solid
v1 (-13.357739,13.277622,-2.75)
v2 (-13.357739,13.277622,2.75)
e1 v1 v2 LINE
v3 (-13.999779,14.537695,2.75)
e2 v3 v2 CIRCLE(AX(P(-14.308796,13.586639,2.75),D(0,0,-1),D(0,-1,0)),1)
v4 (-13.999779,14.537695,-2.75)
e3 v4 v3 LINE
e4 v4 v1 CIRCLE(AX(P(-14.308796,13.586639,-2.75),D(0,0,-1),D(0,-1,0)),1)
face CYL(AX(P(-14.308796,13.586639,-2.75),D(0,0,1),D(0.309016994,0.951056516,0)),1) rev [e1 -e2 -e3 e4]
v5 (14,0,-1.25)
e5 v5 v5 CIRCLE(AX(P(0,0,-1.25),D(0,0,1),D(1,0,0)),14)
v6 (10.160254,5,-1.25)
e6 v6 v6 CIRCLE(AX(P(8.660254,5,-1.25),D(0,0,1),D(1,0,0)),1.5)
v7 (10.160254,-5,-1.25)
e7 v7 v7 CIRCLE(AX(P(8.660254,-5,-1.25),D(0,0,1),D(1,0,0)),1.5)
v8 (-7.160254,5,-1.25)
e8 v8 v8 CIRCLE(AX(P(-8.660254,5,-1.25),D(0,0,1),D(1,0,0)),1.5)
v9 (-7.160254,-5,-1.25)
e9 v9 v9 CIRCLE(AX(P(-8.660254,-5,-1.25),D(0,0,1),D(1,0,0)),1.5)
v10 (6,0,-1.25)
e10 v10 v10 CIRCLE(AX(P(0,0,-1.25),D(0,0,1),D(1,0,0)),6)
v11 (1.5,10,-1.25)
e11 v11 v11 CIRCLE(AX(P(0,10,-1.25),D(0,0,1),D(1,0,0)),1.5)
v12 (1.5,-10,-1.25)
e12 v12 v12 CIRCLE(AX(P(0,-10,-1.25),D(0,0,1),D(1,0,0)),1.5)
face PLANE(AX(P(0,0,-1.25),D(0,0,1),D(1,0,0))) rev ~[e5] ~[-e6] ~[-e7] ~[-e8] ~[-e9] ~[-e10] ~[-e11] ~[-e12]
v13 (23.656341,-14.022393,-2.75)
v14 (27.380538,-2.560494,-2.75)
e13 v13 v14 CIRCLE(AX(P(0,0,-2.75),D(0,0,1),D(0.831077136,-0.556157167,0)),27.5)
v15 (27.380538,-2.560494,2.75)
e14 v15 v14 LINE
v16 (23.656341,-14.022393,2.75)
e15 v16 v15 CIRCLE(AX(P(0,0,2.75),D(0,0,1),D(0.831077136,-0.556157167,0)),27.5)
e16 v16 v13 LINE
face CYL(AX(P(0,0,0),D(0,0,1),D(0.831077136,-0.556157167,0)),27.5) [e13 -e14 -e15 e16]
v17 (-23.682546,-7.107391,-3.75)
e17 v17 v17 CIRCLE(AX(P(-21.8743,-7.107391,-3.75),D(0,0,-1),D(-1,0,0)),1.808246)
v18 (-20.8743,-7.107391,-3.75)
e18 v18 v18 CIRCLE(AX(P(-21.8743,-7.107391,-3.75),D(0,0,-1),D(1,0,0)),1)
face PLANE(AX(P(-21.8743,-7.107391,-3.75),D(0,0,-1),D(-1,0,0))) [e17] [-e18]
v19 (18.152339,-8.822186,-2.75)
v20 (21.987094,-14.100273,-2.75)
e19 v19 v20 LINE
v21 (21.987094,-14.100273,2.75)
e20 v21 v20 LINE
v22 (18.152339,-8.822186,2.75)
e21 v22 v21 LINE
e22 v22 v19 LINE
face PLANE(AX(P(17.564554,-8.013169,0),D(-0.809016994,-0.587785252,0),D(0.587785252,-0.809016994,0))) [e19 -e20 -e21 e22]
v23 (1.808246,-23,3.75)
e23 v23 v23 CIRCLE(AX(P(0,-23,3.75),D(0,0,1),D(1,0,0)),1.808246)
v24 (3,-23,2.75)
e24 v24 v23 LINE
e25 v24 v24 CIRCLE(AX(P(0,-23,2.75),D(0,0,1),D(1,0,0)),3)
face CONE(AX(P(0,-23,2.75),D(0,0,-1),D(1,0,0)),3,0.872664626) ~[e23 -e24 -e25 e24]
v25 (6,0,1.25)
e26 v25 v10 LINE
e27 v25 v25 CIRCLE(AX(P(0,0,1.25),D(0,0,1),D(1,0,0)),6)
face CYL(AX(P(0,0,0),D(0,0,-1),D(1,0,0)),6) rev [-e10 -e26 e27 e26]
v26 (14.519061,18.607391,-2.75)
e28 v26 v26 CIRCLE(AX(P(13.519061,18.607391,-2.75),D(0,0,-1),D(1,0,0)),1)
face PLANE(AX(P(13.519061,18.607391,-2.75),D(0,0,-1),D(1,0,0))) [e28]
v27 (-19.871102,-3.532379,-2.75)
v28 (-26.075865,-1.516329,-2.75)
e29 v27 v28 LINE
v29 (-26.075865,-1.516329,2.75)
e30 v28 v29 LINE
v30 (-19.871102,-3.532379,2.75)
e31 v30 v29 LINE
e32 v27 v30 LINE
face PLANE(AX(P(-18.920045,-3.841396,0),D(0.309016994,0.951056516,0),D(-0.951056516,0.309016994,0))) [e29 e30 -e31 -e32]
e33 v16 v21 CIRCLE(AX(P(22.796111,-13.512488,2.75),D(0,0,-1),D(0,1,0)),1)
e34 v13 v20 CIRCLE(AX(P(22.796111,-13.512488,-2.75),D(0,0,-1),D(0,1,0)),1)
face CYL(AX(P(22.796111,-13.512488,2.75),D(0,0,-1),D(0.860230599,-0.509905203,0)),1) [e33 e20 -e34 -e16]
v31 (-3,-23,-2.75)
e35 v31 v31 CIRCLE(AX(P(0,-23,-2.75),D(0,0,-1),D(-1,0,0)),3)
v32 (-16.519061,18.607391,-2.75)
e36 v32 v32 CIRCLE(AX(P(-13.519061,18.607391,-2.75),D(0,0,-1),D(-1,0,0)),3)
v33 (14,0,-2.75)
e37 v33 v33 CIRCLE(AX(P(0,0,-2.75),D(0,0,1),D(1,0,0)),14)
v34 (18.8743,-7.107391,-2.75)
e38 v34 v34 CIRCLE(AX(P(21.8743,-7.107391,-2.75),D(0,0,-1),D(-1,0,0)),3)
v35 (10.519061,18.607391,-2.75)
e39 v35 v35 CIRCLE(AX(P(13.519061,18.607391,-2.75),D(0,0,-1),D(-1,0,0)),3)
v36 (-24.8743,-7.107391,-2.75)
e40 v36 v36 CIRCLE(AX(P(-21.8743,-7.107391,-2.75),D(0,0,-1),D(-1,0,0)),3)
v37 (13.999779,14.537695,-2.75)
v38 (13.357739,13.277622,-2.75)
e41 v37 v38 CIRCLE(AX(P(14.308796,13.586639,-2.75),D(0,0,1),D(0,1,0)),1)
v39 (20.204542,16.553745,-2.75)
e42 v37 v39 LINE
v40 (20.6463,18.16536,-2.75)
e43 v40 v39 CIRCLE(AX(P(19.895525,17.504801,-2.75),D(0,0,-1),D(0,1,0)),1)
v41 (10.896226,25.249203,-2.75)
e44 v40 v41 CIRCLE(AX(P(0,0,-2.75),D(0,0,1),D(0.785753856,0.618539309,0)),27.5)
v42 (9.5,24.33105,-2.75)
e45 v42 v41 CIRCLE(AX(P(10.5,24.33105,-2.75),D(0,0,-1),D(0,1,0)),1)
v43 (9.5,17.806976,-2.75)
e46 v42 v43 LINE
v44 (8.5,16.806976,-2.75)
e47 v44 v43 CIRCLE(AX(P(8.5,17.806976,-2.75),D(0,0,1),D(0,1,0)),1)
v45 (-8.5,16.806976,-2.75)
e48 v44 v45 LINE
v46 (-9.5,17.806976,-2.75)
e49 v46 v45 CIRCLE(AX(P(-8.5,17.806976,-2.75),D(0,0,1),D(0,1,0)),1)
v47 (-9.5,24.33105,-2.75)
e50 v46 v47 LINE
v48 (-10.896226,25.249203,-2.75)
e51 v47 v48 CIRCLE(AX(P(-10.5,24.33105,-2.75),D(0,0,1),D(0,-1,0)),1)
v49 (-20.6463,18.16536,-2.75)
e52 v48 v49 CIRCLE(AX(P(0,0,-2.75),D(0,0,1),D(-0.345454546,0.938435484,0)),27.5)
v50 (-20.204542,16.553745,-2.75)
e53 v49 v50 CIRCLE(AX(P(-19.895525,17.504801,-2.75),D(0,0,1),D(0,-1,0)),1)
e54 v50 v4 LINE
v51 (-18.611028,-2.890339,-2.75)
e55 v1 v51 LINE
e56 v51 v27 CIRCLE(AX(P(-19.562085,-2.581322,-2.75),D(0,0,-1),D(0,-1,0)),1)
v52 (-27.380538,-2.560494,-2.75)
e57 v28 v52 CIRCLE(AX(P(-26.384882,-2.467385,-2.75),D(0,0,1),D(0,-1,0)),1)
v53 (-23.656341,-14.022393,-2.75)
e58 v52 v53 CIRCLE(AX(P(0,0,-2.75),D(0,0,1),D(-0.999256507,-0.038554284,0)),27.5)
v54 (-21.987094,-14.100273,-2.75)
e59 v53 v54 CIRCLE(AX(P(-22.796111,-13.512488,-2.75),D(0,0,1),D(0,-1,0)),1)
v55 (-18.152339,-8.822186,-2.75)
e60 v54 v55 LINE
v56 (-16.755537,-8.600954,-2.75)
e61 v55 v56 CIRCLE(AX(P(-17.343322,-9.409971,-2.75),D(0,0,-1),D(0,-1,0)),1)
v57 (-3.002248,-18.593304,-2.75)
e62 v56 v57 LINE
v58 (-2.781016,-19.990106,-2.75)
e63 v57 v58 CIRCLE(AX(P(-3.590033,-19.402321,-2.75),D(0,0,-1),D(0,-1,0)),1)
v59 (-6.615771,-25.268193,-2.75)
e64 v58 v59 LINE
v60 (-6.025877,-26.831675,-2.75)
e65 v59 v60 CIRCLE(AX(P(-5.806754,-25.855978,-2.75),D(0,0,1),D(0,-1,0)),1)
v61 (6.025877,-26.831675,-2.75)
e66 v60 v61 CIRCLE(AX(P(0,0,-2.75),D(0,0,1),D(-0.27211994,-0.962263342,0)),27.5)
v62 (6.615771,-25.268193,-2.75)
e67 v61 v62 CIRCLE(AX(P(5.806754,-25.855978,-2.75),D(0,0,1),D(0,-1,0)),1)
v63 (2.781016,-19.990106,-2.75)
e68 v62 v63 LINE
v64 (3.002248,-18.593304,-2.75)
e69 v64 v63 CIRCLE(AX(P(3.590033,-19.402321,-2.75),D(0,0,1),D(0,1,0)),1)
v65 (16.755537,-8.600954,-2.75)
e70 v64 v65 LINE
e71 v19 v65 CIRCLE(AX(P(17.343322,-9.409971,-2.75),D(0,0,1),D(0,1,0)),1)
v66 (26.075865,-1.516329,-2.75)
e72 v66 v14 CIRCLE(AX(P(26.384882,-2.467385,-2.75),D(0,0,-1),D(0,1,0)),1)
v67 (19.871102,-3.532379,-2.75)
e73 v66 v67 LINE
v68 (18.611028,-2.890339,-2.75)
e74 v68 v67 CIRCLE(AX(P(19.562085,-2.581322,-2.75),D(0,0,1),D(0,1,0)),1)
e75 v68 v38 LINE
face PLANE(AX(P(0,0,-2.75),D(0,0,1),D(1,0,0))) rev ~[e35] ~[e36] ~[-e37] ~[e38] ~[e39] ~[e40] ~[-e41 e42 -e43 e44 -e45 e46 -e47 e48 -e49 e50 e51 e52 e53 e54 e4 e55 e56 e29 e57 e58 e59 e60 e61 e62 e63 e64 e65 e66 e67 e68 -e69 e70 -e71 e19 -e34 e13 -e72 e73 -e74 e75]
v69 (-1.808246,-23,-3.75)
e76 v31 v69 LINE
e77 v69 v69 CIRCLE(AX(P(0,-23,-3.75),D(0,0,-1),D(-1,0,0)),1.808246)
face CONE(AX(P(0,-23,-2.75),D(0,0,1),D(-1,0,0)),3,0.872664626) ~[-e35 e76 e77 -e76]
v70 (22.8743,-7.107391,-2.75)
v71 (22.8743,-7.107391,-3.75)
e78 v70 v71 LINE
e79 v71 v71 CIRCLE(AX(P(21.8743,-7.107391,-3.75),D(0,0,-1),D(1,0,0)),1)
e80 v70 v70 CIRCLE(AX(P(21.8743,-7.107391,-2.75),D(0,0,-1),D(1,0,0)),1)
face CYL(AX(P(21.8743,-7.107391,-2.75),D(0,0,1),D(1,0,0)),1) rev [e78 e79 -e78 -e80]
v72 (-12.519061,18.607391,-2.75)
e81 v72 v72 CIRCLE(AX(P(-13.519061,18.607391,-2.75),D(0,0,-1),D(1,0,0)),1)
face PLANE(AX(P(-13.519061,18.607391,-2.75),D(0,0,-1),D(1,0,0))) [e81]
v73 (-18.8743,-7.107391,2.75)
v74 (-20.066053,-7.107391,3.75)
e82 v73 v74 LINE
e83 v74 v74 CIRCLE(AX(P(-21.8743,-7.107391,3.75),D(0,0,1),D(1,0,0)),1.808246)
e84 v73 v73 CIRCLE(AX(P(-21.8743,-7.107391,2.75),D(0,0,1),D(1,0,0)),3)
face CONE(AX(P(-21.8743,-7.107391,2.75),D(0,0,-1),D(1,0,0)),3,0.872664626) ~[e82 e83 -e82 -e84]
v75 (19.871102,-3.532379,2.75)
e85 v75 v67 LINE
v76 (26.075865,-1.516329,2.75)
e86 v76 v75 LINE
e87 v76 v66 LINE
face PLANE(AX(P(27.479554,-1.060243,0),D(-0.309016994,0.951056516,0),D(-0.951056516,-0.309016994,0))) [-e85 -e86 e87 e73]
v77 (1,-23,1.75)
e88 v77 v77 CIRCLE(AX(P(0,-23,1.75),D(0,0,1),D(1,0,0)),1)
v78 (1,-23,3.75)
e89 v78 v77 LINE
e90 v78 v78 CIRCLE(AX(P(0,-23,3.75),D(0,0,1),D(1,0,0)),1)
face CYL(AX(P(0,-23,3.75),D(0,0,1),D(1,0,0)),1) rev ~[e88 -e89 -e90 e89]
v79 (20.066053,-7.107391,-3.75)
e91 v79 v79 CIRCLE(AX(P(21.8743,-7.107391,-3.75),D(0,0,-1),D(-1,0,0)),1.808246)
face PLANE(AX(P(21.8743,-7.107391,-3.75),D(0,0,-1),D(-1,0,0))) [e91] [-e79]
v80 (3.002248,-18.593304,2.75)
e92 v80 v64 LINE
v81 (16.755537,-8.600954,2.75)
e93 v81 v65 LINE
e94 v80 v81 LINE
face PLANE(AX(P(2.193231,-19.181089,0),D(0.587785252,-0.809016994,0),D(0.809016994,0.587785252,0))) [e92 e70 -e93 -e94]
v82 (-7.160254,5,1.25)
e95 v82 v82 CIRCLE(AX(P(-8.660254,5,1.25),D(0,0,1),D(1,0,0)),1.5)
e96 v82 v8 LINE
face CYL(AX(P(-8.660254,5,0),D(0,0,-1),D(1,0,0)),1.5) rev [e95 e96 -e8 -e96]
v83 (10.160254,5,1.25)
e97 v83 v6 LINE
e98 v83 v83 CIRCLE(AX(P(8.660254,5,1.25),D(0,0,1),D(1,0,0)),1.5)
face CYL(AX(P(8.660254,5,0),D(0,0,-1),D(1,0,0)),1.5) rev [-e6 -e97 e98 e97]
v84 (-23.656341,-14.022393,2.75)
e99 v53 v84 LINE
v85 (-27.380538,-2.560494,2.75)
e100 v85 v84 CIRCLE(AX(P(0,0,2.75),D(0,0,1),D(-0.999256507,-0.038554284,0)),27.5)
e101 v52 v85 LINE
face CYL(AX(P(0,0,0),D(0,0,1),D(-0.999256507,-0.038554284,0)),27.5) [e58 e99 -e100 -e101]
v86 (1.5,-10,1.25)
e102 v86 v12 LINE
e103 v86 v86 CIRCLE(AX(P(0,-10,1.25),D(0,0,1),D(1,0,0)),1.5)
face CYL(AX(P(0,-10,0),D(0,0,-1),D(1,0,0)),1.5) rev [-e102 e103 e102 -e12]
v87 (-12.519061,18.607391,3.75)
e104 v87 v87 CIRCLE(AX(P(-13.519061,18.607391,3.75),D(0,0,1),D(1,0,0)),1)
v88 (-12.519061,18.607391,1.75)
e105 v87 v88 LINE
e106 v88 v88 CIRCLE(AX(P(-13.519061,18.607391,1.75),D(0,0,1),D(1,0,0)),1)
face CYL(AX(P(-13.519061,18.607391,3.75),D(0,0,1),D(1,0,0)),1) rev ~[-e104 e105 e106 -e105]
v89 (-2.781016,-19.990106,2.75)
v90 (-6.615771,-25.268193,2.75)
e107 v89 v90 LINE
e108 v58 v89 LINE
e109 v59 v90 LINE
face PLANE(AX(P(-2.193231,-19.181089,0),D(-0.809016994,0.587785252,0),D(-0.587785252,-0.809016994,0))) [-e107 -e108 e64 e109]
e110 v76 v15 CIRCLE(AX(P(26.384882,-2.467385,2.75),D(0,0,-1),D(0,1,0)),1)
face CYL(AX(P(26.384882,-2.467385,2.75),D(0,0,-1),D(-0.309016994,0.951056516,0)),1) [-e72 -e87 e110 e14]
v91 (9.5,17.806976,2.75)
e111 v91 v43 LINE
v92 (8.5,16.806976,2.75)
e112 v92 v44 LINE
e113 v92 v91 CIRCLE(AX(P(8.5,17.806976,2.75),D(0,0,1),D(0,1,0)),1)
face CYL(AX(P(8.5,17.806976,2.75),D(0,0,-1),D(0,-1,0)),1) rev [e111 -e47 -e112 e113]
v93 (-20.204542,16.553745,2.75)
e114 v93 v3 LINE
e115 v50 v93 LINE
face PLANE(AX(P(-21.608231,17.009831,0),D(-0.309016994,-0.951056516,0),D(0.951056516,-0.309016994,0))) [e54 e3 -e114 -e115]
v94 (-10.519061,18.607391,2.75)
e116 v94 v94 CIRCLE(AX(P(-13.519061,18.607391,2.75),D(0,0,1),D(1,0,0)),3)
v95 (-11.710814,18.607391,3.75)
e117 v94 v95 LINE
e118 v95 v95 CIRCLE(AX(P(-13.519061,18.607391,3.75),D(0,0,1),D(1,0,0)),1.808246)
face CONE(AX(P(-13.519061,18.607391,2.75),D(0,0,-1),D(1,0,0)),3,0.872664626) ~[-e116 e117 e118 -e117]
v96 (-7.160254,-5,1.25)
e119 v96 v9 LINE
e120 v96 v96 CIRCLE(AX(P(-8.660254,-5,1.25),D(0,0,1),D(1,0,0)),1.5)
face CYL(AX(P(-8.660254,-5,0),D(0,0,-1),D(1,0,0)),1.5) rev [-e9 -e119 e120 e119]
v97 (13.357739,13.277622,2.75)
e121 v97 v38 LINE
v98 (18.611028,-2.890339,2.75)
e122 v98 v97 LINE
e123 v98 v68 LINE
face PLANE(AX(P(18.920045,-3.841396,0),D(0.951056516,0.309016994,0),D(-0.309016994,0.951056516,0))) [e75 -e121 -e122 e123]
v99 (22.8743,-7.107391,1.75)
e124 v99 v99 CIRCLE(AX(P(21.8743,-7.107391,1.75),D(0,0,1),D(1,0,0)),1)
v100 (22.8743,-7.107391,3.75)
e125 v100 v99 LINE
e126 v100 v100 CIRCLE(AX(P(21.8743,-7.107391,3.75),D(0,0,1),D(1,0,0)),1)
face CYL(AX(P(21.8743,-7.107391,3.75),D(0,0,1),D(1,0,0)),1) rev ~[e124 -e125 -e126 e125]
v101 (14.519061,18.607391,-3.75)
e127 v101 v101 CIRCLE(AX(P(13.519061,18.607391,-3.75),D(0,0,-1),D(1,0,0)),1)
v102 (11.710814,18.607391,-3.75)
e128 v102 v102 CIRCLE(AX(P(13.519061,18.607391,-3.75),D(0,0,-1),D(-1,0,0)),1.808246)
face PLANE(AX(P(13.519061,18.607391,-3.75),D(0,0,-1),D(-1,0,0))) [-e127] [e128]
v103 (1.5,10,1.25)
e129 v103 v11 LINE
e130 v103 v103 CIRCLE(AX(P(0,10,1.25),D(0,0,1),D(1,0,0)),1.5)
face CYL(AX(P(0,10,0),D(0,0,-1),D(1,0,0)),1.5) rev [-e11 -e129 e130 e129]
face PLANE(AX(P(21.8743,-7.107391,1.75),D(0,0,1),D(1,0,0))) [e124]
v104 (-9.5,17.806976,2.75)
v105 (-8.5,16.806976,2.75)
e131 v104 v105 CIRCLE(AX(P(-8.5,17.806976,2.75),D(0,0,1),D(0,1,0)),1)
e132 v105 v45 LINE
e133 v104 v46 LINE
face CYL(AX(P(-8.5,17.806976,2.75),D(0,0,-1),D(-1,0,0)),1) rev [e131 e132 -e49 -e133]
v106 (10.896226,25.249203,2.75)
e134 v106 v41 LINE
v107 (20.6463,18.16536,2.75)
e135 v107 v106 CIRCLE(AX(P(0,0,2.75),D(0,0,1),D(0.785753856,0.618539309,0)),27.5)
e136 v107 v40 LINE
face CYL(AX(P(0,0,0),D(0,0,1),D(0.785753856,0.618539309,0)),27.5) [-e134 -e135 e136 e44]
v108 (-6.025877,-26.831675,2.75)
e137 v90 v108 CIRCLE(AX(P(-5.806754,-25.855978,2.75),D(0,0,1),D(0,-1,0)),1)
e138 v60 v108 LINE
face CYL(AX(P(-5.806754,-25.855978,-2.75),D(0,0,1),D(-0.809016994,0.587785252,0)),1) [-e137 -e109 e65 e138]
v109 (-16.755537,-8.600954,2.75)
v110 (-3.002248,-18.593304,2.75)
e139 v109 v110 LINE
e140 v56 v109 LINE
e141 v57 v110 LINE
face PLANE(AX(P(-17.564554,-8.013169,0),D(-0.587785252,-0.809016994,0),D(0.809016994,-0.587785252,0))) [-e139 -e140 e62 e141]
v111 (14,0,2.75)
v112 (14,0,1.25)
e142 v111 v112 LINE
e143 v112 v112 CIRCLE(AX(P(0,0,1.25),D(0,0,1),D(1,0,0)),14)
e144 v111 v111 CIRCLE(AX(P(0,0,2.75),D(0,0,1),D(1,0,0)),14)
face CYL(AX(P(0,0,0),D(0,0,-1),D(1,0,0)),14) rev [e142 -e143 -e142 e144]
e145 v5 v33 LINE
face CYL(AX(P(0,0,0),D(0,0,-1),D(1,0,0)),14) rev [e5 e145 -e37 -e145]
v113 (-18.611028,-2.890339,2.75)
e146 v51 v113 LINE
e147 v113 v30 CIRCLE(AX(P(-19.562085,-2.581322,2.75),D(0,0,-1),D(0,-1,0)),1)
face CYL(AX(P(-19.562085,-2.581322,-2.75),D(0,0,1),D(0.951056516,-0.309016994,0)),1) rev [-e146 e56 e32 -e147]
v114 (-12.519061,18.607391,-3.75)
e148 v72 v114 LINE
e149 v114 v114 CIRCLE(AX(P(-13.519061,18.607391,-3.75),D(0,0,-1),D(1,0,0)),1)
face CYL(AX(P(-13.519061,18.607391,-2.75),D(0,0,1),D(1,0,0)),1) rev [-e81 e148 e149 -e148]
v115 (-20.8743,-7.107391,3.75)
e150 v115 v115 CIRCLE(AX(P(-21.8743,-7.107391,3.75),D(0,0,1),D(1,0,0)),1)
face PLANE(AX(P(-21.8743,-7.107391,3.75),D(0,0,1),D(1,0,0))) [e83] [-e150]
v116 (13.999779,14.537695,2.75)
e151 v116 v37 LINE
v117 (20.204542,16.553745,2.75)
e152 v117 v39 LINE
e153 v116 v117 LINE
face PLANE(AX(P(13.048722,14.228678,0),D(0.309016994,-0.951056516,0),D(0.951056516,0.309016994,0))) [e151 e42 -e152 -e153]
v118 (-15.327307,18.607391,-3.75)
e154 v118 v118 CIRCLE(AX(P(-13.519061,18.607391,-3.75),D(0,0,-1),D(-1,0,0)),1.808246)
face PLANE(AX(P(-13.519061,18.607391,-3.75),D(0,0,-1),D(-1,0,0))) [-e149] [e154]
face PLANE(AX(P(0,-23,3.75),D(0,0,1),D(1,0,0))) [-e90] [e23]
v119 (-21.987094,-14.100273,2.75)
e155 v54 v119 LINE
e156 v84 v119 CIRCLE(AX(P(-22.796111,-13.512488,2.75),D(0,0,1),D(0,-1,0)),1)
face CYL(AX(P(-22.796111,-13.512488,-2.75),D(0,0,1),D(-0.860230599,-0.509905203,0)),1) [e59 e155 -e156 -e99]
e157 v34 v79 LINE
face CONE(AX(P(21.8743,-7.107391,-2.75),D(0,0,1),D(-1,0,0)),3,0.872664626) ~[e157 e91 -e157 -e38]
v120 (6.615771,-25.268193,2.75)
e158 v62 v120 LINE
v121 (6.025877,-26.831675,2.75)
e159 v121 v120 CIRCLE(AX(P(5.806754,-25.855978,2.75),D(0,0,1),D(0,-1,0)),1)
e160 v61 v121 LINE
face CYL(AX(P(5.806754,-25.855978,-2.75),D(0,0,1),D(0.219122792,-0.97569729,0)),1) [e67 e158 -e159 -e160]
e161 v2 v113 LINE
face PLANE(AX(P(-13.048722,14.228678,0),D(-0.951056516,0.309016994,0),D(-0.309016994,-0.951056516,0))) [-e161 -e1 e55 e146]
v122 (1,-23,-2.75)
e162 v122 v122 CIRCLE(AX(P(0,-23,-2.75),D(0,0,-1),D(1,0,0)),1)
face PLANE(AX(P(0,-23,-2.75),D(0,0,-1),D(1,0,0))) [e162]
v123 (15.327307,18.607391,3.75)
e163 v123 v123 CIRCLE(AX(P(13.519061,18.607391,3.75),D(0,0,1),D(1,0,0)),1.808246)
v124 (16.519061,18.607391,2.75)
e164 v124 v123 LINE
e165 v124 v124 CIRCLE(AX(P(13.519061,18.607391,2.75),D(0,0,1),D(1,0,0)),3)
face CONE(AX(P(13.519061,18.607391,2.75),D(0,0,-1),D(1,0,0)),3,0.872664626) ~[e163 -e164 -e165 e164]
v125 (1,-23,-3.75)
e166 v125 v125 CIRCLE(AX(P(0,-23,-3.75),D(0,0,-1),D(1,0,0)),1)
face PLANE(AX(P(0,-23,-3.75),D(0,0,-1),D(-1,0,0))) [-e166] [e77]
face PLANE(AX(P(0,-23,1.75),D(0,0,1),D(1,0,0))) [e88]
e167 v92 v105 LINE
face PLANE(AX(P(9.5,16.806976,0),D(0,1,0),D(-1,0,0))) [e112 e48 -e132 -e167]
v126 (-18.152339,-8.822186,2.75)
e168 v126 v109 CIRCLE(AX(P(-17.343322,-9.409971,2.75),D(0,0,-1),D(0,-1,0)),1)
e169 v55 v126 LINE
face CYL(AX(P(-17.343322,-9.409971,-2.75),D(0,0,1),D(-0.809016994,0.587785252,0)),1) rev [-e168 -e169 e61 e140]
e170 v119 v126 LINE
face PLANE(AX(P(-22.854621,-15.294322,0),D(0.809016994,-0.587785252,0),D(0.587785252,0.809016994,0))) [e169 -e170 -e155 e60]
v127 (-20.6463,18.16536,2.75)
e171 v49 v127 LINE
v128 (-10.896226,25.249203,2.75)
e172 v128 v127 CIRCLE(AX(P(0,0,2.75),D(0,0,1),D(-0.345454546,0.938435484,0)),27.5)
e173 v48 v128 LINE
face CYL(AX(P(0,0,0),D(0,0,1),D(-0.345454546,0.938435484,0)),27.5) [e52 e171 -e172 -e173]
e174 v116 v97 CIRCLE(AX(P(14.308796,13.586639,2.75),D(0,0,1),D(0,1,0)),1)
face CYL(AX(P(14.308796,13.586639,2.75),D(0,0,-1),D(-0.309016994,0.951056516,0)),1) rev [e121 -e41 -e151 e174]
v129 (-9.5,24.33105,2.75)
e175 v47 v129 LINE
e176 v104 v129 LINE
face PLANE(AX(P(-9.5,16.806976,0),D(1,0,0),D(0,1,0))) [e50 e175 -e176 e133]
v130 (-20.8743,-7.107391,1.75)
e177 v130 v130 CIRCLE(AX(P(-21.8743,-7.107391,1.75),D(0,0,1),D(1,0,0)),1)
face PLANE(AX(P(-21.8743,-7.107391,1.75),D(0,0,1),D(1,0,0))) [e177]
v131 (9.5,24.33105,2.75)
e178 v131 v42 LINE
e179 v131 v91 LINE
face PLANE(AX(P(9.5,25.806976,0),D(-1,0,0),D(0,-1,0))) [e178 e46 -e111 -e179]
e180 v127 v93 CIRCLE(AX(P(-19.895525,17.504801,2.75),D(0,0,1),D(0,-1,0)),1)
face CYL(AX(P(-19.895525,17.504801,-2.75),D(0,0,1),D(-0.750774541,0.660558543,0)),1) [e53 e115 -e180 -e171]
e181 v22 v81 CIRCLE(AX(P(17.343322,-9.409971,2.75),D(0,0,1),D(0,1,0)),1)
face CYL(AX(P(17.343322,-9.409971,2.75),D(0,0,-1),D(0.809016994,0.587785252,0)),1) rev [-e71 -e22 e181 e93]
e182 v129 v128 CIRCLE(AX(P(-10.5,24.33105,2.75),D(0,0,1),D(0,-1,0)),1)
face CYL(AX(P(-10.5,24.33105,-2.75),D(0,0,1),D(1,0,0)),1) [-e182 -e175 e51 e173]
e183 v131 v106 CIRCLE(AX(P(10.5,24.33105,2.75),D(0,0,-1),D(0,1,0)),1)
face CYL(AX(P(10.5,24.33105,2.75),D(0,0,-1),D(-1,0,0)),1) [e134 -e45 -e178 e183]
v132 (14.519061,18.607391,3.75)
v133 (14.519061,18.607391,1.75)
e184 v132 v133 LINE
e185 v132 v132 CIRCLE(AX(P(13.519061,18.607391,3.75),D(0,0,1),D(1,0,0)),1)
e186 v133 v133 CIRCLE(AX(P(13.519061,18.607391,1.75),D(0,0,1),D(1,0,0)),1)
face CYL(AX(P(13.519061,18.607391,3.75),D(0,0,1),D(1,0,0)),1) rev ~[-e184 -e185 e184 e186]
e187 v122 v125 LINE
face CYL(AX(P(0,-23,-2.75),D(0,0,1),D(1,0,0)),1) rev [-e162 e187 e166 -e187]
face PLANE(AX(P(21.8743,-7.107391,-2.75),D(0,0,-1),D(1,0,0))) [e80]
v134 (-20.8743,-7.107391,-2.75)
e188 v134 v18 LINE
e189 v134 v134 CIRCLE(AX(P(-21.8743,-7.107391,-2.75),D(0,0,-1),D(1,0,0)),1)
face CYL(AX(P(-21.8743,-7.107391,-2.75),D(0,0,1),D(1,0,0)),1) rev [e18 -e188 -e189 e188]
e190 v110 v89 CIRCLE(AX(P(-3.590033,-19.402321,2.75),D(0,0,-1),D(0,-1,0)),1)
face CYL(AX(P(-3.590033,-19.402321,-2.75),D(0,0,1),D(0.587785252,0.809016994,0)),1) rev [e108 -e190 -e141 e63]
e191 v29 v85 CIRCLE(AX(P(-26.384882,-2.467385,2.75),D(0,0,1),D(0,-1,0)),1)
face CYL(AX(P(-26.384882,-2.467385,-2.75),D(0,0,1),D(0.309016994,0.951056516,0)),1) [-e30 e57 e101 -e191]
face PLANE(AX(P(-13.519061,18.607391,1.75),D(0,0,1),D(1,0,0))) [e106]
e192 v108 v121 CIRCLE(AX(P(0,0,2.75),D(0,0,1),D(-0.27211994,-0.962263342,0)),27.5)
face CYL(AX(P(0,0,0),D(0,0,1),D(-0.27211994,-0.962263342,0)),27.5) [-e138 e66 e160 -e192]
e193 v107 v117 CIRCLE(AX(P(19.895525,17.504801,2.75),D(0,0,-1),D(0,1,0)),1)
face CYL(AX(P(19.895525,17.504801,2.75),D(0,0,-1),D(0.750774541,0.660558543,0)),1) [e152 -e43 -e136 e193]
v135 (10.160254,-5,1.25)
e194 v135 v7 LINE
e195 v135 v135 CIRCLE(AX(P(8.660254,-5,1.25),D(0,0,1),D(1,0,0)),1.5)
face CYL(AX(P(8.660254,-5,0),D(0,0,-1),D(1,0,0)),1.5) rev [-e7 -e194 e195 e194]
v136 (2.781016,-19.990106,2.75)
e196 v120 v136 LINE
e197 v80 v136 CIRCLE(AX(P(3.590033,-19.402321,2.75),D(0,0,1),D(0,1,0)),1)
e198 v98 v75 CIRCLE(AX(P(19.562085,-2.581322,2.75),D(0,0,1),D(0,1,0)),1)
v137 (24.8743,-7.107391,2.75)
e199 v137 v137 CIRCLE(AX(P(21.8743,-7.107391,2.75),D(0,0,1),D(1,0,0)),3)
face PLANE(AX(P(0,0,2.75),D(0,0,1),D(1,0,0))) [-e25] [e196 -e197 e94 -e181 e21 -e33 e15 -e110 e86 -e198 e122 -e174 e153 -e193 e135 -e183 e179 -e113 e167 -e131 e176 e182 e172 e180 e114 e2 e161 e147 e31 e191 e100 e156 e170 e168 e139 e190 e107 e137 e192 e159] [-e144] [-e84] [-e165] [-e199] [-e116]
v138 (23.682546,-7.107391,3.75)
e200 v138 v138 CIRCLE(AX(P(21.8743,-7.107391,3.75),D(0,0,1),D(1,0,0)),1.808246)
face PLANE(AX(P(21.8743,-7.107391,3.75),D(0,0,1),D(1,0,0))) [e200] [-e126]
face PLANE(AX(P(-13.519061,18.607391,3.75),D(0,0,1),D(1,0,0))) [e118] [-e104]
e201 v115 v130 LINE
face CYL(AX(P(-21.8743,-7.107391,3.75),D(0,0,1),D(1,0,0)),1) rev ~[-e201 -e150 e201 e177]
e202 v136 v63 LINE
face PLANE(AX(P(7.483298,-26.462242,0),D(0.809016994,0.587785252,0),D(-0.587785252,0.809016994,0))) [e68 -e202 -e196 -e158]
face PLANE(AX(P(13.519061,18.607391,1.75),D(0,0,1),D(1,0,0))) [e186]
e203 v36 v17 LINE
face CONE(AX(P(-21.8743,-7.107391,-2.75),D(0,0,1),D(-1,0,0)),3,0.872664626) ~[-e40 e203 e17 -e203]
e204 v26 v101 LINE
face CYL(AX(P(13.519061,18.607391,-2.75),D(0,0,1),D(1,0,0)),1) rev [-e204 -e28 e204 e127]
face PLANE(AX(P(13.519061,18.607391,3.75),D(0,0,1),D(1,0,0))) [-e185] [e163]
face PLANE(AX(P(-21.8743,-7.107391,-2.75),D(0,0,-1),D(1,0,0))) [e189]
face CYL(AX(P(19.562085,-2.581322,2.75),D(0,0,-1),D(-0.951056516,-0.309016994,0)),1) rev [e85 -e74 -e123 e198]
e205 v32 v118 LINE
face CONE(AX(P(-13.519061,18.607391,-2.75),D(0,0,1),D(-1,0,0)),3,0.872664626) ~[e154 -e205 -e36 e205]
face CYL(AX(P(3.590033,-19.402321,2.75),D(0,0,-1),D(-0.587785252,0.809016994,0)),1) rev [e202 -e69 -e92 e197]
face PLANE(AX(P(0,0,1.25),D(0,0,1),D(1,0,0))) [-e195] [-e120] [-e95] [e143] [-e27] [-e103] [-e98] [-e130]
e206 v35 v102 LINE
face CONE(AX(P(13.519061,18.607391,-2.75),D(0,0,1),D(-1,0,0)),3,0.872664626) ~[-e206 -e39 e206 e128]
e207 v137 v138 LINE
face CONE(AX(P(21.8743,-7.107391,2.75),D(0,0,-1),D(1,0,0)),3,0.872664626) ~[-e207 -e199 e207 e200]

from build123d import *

# Parameters (mm, degrees)
SKETCH2_R                     = 14
BOSS_EXTRUDE1_DEPTH           = 2.75
SKETCH2_3_R                   = 14
SKETCH2_3_R_2                 = 1.5
SKETCH2_3_R_3                 = 6
BOSS_EXTRUDE2_DEPTH           = 1.25
FILLET1_R                     = 1
SKETCH3_R                     = 3
BOSS_EXTRUDE3_DEPTH           = 1
BOSS_EXTRUDE3_DRAFT           = 50
BOSS_EXTRUDE3_PROFILE_2_DEPTH = 1
BOSS_EXTRUDE3_PROFILE_2_DRAFT = 50
BOSS_EXTRUDE3_PROFILE_3_DEPTH = 1
BOSS_EXTRUDE3_PROFILE_3_DRAFT = 50
BOSS_EXTRUDE3_PROFILE_4_DEPTH = 1
BOSS_EXTRUDE3_PROFILE_4_DRAFT = 50
BOSS_EXTRUDE3_PROFILE_5_DEPTH = 1
BOSS_EXTRUDE3_PROFILE_5_DRAFT = 50
SKETCH4_R                     = 1
CUT_EXTRUDE1_DEPTH            = 2
SKETCH5_R                     = 3
BOSS_EXTRUDE5_DEPTH           = 1
BOSS_EXTRUDE5_DRAFT           = 50
BOSS_EXTRUDE5_PROFILE_2_DEPTH = 1
BOSS_EXTRUDE5_PROFILE_2_DRAFT = 50
BOSS_EXTRUDE5_PROFILE_3_DEPTH = 1
BOSS_EXTRUDE5_PROFILE_3_DRAFT = 50
BOSS_EXTRUDE5_PROFILE_4_DEPTH = 1
BOSS_EXTRUDE5_PROFILE_4_DRAFT = 50
BOSS_EXTRUDE5_PROFILE_5_DEPTH = 1
BOSS_EXTRUDE5_PROFILE_5_DRAFT = 50
CUT_EXTRUDE2_START            = -1
SKETCH6_R                     = 1
CUT_EXTRUDE2_DEPTH            = 1


with BuildPart() as part:
    # Sketch2 → Boss-Extrude1 (new, symmetric)
    with BuildSketch(Plane.XY):
        with BuildLine():
            Line((-9.5, 16.806975801), (-9.5, 25.806975801))
            ThreePointArc((-9.5, 25.806975801), (-16.164094438, 22.247967345), (-21.608231055, 17.009831001))
            Line((-21.608231055, 17.009831001), (-13.048722408, 14.228678051))
            Line((-13.048722408, 14.228678051), (-18.920045301, -3.841395758))
            Line((-18.920045301, -3.841395758), (-27.479553948, -1.060242809))
            ThreePointArc((-27.479553948, -1.060242809), (-26.154054198, -8.497967345), (-22.854621229, -15.2943221))
            Line((-22.854621229, -15.2943221), (-17.564553958, -8.01316915))
            Line((-17.564553958, -8.01316915), (-2.193231065, -19.181088944))
            Line((-2.193231065, -19.181088944), (-7.483298336, -26.462241893))
            ThreePointArc((-7.483298336, -26.462241893), (0, -27.5), (7.483298336, -26.462241893))
            Line((7.483298336, -26.462241893), (2.193231065, -19.181088944))
            Line((2.193231065, -19.181088944), (17.564553958, -8.01316915))
            Line((17.564553958, -8.01316915), (22.854621229, -15.2943221))
            ThreePointArc((22.854621229, -15.2943221), (26.154054198, -8.497967345), (27.479553948, -1.060242809))
            Line((27.479553948, -1.060242809), (18.920045301, -3.841395758))
            Line((18.920045301, -3.841395758), (13.048722408, 14.228678051))
            Line((13.048722408, 14.228678051), (21.608231055, 17.009831001))
            ThreePointArc((21.608231055, 17.009831001), (16.164094438, 22.247967345), (9.5, 25.806975801))
            Line((9.5, 25.806975801), (9.5, 16.806975801))
            Line((9.5, 16.806975801), (-9.5, 16.806975801))
        make_face()
        Circle(SKETCH2_R, mode=Mode.SUBTRACT)
    extrude(amount=BOSS_EXTRUDE1_DEPTH, both=True)

    # Sketch2<3> → Boss-Extrude2 (add, symmetric)
    with BuildSketch(Plane.XY):
        Circle(SKETCH2_3_R)
        with Locations((0, -10)):
            Circle(SKETCH2_3_R_2, mode=Mode.SUBTRACT)
        with Locations((-8.660254038, -5)):
            Circle(SKETCH2_3_R_2, mode=Mode.SUBTRACT)
        with Locations((8.660254038, -5)):
            Circle(SKETCH2_3_R_2, mode=Mode.SUBTRACT)
        with Locations((-8.660254038, 5)):
            Circle(SKETCH2_3_R_2, mode=Mode.SUBTRACT)
        Circle(SKETCH2_3_R_3, mode=Mode.SUBTRACT)
        with Locations((8.660254038, 5)):
            Circle(SKETCH2_3_R_2, mode=Mode.SUBTRACT)
        with Locations((0, 10)):
            Circle(SKETCH2_3_R_2, mode=Mode.SUBTRACT)
    extrude(amount=BOSS_EXTRUDE2_DEPTH, both=True)

    # Fillet1
    fillet1_edges = [part.edges().sort_by_distance(p)[0] for p in [
        (-18.920045301, -3.841395758, 0),
        (-13.048722408, 14.228678051, 0),
        (-21.608231055, 17.009831001, 0),
        (-9.5, 25.806975801, 0),
        (-9.5, 16.806975801, 0),
        (9.5, 16.806975801, 0),
        (9.5, 25.806975801, 0),
        (21.608231055, 17.009831001, 0),
        (13.048722408, 14.228678051, 0),
        (18.920045301, -3.841395758, 0),
        (27.479553948, -1.060242809, 0),
        (22.854621229, -15.2943221, 0),
        (17.564553958, -8.01316915, 0),
        (2.193231065, -19.181088944, 0),
        (7.483298336, -26.462241893, 0),
        (-7.483298336, -26.462241893, 0),
        (-2.193231065, -19.181088944, 0),
        (-17.564553958, -8.01316915, 0),
        (-22.854621229, -15.2943221, 0),
        (-27.479553948, -1.060242809, 0),
    ]]
    fillet(fillet1_edges, radius=FILLET1_R)


with BuildPart() as boss_extrude3_tool:
    # Sketch3 → Boss-Extrude3 (with draft: the straight prism first)
    with BuildSketch(Plane.XY.offset(2.75)):
        with Locations((13.519060803, 18.607390871)):
            Circle(SKETCH3_R)
    extrude(amount=BOSS_EXTRUDE3_DEPTH)
    # Boss-Extrude3: the draft: its side faces are tilted about the plane it starts from
    boss_extrude3_sides = [boss_extrude3_tool.faces().sort_by_distance(p)[0] for p in [
        (10.519060803, 18.607390871, 3.25),
    ]]
    draft(boss_extrude3_sides, Plane.XY.offset(2.75), BOSS_EXTRUDE3_DRAFT)


with BuildPart() as part_1:
    add(part.part)

    # Boss-Extrude3: add boss_extrude3_tool
    add(boss_extrude3_tool.part)


with BuildPart() as boss_extrude3_profile_2_tool:
    # Sketch3 → Boss-Extrude3 profile 2 (with draft: the straight prism first)
    with BuildSketch(Plane.XY.offset(2.75)):
        with Locations((21.874299875, -7.107390871)):
            Circle(SKETCH3_R)
    extrude(amount=BOSS_EXTRUDE3_PROFILE_2_DEPTH)
    # Boss-Extrude3 profile 2: the draft: its side faces are tilted about the plane it starts from
    boss_extrude3_profile_2_sides = [boss_extrude3_profile_2_tool.faces().sort_by_distance(p)[0] for p in [
        (18.874299875, -7.107390871, 3.25),
    ]]
    draft(boss_extrude3_profile_2_sides, Plane.XY.offset(2.75), BOSS_EXTRUDE3_PROFILE_2_DRAFT)


with BuildPart() as part_2:
    add(part_1.part)

    # Boss-Extrude3 profile 2: add boss_extrude3_profile_2_tool
    add(boss_extrude3_profile_2_tool.part)


with BuildPart() as boss_extrude3_profile_3_tool:
    # Sketch3 → Boss-Extrude3 profile 3 (with draft: the straight prism first)
    with BuildSketch(Plane.XY.offset(2.75)):
        with Locations((0, -23)):
            Circle(SKETCH3_R)
    extrude(amount=BOSS_EXTRUDE3_PROFILE_3_DEPTH)
    # Boss-Extrude3 profile 3: the draft: its side faces are tilted about the plane it starts from
    boss_extrude3_profile_3_sides = [boss_extrude3_profile_3_tool.faces().sort_by_distance(p)[0] for p in [
        (-3, -23, 3.25),
    ]]
    draft(boss_extrude3_profile_3_sides, Plane.XY.offset(2.75), BOSS_EXTRUDE3_PROFILE_3_DRAFT)


with BuildPart() as part_3:
    add(part_2.part)

    # Boss-Extrude3 profile 3: add boss_extrude3_profile_3_tool
    add(boss_extrude3_profile_3_tool.part)


with BuildPart() as boss_extrude3_profile_4_tool:
    # Sketch3 → Boss-Extrude3 profile 4 (with draft: the straight prism first)
    with BuildSketch(Plane.XY.offset(2.75)):
        with Locations((-21.874299875, -7.107390871)):
            Circle(SKETCH3_R)
    extrude(amount=BOSS_EXTRUDE3_PROFILE_4_DEPTH)
    # Boss-Extrude3 profile 4: the draft: its side faces are tilted about the plane it starts from
    boss_extrude3_profile_4_sides = [boss_extrude3_profile_4_tool.faces().sort_by_distance(p)[0] for p in [
        (-24.874299875, -7.107390871, 3.25),
    ]]
    draft(boss_extrude3_profile_4_sides, Plane.XY.offset(2.75), BOSS_EXTRUDE3_PROFILE_4_DRAFT)


with BuildPart() as part_4:
    add(part_3.part)

    # Boss-Extrude3 profile 4: add boss_extrude3_profile_4_tool
    add(boss_extrude3_profile_4_tool.part)


with BuildPart() as boss_extrude3_profile_5_tool:
    # Sketch3 → Boss-Extrude3 profile 5 (with draft: the straight prism first)
    with BuildSketch(Plane.XY.offset(2.75)):
        with Locations((-13.519060803, 18.607390871)):
            Circle(SKETCH3_R)
    extrude(amount=BOSS_EXTRUDE3_PROFILE_5_DEPTH)
    # Boss-Extrude3 profile 5: the draft: its side faces are tilted about the plane it starts from
    boss_extrude3_profile_5_sides = [boss_extrude3_profile_5_tool.faces().sort_by_distance(p)[0] for p in [
        (-16.519060803, 18.607390871, 3.25),
    ]]
    draft(boss_extrude3_profile_5_sides, Plane.XY.offset(2.75), BOSS_EXTRUDE3_PROFILE_5_DRAFT)


with BuildPart() as part_5:
    add(part_4.part)

    # Boss-Extrude3 profile 5: add boss_extrude3_profile_5_tool
    add(boss_extrude3_profile_5_tool.part)

    # Sketch4 → Cut-Extrude1 (cut)
    with BuildSketch(Plane.XY.offset(3.75)):
        with Locations((13.519060803, 18.607390871)):
            Circle(SKETCH4_R)
        with Locations((21.874299875, -7.107390871)):
            Circle(SKETCH4_R)
        with Locations((0, -23)):
            Circle(SKETCH4_R)
        with Locations((-21.874299875, -7.107390871)):
            Circle(SKETCH4_R)
        with Locations((-13.519060803, 18.607390871)):
            Circle(SKETCH4_R)
    extrude(amount=-CUT_EXTRUDE1_DEPTH, mode=Mode.SUBTRACT)


with BuildPart() as boss_extrude5_tool:
    # Sketch5 → Boss-Extrude5 (with draft: the straight prism first)
    with BuildSketch(Plane(origin=(0, 0, -2.75), x_dir=(-1, 0, 0), z_dir=(0, 0, -1))):
        with Locations((13.519060803, 18.607390871)):
            Circle(SKETCH5_R)
    extrude(amount=BOSS_EXTRUDE5_DEPTH)
    # Boss-Extrude5: the draft: its side faces are tilted about the plane it starts from
    boss_extrude5_sides = [boss_extrude5_tool.faces().sort_by_distance(p)[0] for p in [
        (-10.519060803, 18.607390871, -3.25),
    ]]
    draft(boss_extrude5_sides, Plane(origin=(0, 0, -2.75), x_dir=(-1, 0, 0), z_dir=(0, 0, -1)), BOSS_EXTRUDE5_DRAFT)


with BuildPart() as part_6:
    add(part_5.part)

    # Boss-Extrude5: add boss_extrude5_tool
    add(boss_extrude5_tool.part)


with BuildPart() as boss_extrude5_profile_2_tool:
    # Sketch5 → Boss-Extrude5 profile 2 (with draft: the straight prism first)
    with BuildSketch(Plane(origin=(0, 0, -2.75), x_dir=(-1, 0, 0), z_dir=(0, 0, -1))):
        with Locations((21.874299875, -7.107390871)):
            Circle(SKETCH5_R)
    extrude(amount=BOSS_EXTRUDE5_PROFILE_2_DEPTH)
    # Boss-Extrude5 profile 2: the draft: its side faces are tilted about the plane it starts from
    boss_extrude5_profile_2_sides = [boss_extrude5_profile_2_tool.faces().sort_by_distance(p)[0] for p in [
        (-18.874299875, -7.107390871, -3.25),
    ]]
    draft(boss_extrude5_profile_2_sides, Plane(origin=(0, 0, -2.75), x_dir=(-1, 0, 0), z_dir=(0, 0, -1)), BOSS_EXTRUDE5_PROFILE_2_DRAFT)


with BuildPart() as part_7:
    add(part_6.part)

    # Boss-Extrude5 profile 2: add boss_extrude5_profile_2_tool
    add(boss_extrude5_profile_2_tool.part)


with BuildPart() as boss_extrude5_profile_3_tool:
    # Sketch5 → Boss-Extrude5 profile 3 (with draft: the straight prism first)
    with BuildSketch(Plane(origin=(0, 0, -2.75), x_dir=(-1, 0, 0), z_dir=(0, 0, -1))):
        with Locations((0, -23)):
            Circle(SKETCH5_R)
    extrude(amount=BOSS_EXTRUDE5_PROFILE_3_DEPTH)
    # Boss-Extrude5 profile 3: the draft: its side faces are tilted about the plane it starts from
    boss_extrude5_profile_3_sides = [boss_extrude5_profile_3_tool.faces().sort_by_distance(p)[0] for p in [
        (3, -23, -3.25),
    ]]
    draft(boss_extrude5_profile_3_sides, Plane(origin=(0, 0, -2.75), x_dir=(-1, 0, 0), z_dir=(0, 0, -1)), BOSS_EXTRUDE5_PROFILE_3_DRAFT)


with BuildPart() as part_8:
    add(part_7.part)

    # Boss-Extrude5 profile 3: add boss_extrude5_profile_3_tool
    add(boss_extrude5_profile_3_tool.part)


with BuildPart() as boss_extrude5_profile_4_tool:
    # Sketch5 → Boss-Extrude5 profile 4 (with draft: the straight prism first)
    with BuildSketch(Plane(origin=(0, 0, -2.75), x_dir=(-1, 0, 0), z_dir=(0, 0, -1))):
        with Locations((-21.874299875, -7.107390871)):
            Circle(SKETCH5_R)
    extrude(amount=BOSS_EXTRUDE5_PROFILE_4_DEPTH)
    # Boss-Extrude5 profile 4: the draft: its side faces are tilted about the plane it starts from
    boss_extrude5_profile_4_sides = [boss_extrude5_profile_4_tool.faces().sort_by_distance(p)[0] for p in [
        (24.874299875, -7.107390871, -3.25),
    ]]
    draft(boss_extrude5_profile_4_sides, Plane(origin=(0, 0, -2.75), x_dir=(-1, 0, 0), z_dir=(0, 0, -1)), BOSS_EXTRUDE5_PROFILE_4_DRAFT)


with BuildPart() as part_9:
    add(part_8.part)

    # Boss-Extrude5 profile 4: add boss_extrude5_profile_4_tool
    add(boss_extrude5_profile_4_tool.part)


with BuildPart() as boss_extrude5_profile_5_tool:
    # Sketch5 → Boss-Extrude5 profile 5 (with draft: the straight prism first)
    with BuildSketch(Plane(origin=(0, 0, -2.75), x_dir=(-1, 0, 0), z_dir=(0, 0, -1))):
        with Locations((-13.519060803, 18.607390871)):
            Circle(SKETCH5_R)
    extrude(amount=BOSS_EXTRUDE5_PROFILE_5_DEPTH)
    # Boss-Extrude5 profile 5: the draft: its side faces are tilted about the plane it starts from
    boss_extrude5_profile_5_sides = [boss_extrude5_profile_5_tool.faces().sort_by_distance(p)[0] for p in [
        (16.519060803, 18.607390871, -3.25),
    ]]
    draft(boss_extrude5_profile_5_sides, Plane(origin=(0, 0, -2.75), x_dir=(-1, 0, 0), z_dir=(0, 0, -1)), BOSS_EXTRUDE5_PROFILE_5_DRAFT)


with BuildPart() as part_10:
    add(part_9.part)

    # Boss-Extrude5 profile 5: add boss_extrude5_profile_5_tool
    add(boss_extrude5_profile_5_tool.part)

    # Sketch6 → Cut-Extrude2 (cut)
    with BuildSketch(Plane(origin=(0, 0, -3.75), x_dir=(-1, 0, 0), z_dir=(0, 0, -1)).offset(CUT_EXTRUDE2_START)):
        with Locations(Location((13.519060803, 18.607390871, 0), (0, 0, 180))):
            Circle(SKETCH6_R)
        with Locations(Location((21.874299875, -7.107390871, 0), (0, 0, 180))):
            Circle(SKETCH6_R)
        with Locations(Location((0, -23, 0), (0, 0, 180))):
            Circle(SKETCH6_R)
        with Locations(Location((-21.874299875, -7.107390871, 0), (0, 0, 180))):
            Circle(SKETCH6_R)
        with Locations(Location((-13.519060803, 18.607390871, 0), (0, 0, 180))):
            Circle(SKETCH6_R)
    extrude(amount=CUT_EXTRUDE2_DEPTH, mode=Mode.SUBTRACT)


solid = part_10.part
